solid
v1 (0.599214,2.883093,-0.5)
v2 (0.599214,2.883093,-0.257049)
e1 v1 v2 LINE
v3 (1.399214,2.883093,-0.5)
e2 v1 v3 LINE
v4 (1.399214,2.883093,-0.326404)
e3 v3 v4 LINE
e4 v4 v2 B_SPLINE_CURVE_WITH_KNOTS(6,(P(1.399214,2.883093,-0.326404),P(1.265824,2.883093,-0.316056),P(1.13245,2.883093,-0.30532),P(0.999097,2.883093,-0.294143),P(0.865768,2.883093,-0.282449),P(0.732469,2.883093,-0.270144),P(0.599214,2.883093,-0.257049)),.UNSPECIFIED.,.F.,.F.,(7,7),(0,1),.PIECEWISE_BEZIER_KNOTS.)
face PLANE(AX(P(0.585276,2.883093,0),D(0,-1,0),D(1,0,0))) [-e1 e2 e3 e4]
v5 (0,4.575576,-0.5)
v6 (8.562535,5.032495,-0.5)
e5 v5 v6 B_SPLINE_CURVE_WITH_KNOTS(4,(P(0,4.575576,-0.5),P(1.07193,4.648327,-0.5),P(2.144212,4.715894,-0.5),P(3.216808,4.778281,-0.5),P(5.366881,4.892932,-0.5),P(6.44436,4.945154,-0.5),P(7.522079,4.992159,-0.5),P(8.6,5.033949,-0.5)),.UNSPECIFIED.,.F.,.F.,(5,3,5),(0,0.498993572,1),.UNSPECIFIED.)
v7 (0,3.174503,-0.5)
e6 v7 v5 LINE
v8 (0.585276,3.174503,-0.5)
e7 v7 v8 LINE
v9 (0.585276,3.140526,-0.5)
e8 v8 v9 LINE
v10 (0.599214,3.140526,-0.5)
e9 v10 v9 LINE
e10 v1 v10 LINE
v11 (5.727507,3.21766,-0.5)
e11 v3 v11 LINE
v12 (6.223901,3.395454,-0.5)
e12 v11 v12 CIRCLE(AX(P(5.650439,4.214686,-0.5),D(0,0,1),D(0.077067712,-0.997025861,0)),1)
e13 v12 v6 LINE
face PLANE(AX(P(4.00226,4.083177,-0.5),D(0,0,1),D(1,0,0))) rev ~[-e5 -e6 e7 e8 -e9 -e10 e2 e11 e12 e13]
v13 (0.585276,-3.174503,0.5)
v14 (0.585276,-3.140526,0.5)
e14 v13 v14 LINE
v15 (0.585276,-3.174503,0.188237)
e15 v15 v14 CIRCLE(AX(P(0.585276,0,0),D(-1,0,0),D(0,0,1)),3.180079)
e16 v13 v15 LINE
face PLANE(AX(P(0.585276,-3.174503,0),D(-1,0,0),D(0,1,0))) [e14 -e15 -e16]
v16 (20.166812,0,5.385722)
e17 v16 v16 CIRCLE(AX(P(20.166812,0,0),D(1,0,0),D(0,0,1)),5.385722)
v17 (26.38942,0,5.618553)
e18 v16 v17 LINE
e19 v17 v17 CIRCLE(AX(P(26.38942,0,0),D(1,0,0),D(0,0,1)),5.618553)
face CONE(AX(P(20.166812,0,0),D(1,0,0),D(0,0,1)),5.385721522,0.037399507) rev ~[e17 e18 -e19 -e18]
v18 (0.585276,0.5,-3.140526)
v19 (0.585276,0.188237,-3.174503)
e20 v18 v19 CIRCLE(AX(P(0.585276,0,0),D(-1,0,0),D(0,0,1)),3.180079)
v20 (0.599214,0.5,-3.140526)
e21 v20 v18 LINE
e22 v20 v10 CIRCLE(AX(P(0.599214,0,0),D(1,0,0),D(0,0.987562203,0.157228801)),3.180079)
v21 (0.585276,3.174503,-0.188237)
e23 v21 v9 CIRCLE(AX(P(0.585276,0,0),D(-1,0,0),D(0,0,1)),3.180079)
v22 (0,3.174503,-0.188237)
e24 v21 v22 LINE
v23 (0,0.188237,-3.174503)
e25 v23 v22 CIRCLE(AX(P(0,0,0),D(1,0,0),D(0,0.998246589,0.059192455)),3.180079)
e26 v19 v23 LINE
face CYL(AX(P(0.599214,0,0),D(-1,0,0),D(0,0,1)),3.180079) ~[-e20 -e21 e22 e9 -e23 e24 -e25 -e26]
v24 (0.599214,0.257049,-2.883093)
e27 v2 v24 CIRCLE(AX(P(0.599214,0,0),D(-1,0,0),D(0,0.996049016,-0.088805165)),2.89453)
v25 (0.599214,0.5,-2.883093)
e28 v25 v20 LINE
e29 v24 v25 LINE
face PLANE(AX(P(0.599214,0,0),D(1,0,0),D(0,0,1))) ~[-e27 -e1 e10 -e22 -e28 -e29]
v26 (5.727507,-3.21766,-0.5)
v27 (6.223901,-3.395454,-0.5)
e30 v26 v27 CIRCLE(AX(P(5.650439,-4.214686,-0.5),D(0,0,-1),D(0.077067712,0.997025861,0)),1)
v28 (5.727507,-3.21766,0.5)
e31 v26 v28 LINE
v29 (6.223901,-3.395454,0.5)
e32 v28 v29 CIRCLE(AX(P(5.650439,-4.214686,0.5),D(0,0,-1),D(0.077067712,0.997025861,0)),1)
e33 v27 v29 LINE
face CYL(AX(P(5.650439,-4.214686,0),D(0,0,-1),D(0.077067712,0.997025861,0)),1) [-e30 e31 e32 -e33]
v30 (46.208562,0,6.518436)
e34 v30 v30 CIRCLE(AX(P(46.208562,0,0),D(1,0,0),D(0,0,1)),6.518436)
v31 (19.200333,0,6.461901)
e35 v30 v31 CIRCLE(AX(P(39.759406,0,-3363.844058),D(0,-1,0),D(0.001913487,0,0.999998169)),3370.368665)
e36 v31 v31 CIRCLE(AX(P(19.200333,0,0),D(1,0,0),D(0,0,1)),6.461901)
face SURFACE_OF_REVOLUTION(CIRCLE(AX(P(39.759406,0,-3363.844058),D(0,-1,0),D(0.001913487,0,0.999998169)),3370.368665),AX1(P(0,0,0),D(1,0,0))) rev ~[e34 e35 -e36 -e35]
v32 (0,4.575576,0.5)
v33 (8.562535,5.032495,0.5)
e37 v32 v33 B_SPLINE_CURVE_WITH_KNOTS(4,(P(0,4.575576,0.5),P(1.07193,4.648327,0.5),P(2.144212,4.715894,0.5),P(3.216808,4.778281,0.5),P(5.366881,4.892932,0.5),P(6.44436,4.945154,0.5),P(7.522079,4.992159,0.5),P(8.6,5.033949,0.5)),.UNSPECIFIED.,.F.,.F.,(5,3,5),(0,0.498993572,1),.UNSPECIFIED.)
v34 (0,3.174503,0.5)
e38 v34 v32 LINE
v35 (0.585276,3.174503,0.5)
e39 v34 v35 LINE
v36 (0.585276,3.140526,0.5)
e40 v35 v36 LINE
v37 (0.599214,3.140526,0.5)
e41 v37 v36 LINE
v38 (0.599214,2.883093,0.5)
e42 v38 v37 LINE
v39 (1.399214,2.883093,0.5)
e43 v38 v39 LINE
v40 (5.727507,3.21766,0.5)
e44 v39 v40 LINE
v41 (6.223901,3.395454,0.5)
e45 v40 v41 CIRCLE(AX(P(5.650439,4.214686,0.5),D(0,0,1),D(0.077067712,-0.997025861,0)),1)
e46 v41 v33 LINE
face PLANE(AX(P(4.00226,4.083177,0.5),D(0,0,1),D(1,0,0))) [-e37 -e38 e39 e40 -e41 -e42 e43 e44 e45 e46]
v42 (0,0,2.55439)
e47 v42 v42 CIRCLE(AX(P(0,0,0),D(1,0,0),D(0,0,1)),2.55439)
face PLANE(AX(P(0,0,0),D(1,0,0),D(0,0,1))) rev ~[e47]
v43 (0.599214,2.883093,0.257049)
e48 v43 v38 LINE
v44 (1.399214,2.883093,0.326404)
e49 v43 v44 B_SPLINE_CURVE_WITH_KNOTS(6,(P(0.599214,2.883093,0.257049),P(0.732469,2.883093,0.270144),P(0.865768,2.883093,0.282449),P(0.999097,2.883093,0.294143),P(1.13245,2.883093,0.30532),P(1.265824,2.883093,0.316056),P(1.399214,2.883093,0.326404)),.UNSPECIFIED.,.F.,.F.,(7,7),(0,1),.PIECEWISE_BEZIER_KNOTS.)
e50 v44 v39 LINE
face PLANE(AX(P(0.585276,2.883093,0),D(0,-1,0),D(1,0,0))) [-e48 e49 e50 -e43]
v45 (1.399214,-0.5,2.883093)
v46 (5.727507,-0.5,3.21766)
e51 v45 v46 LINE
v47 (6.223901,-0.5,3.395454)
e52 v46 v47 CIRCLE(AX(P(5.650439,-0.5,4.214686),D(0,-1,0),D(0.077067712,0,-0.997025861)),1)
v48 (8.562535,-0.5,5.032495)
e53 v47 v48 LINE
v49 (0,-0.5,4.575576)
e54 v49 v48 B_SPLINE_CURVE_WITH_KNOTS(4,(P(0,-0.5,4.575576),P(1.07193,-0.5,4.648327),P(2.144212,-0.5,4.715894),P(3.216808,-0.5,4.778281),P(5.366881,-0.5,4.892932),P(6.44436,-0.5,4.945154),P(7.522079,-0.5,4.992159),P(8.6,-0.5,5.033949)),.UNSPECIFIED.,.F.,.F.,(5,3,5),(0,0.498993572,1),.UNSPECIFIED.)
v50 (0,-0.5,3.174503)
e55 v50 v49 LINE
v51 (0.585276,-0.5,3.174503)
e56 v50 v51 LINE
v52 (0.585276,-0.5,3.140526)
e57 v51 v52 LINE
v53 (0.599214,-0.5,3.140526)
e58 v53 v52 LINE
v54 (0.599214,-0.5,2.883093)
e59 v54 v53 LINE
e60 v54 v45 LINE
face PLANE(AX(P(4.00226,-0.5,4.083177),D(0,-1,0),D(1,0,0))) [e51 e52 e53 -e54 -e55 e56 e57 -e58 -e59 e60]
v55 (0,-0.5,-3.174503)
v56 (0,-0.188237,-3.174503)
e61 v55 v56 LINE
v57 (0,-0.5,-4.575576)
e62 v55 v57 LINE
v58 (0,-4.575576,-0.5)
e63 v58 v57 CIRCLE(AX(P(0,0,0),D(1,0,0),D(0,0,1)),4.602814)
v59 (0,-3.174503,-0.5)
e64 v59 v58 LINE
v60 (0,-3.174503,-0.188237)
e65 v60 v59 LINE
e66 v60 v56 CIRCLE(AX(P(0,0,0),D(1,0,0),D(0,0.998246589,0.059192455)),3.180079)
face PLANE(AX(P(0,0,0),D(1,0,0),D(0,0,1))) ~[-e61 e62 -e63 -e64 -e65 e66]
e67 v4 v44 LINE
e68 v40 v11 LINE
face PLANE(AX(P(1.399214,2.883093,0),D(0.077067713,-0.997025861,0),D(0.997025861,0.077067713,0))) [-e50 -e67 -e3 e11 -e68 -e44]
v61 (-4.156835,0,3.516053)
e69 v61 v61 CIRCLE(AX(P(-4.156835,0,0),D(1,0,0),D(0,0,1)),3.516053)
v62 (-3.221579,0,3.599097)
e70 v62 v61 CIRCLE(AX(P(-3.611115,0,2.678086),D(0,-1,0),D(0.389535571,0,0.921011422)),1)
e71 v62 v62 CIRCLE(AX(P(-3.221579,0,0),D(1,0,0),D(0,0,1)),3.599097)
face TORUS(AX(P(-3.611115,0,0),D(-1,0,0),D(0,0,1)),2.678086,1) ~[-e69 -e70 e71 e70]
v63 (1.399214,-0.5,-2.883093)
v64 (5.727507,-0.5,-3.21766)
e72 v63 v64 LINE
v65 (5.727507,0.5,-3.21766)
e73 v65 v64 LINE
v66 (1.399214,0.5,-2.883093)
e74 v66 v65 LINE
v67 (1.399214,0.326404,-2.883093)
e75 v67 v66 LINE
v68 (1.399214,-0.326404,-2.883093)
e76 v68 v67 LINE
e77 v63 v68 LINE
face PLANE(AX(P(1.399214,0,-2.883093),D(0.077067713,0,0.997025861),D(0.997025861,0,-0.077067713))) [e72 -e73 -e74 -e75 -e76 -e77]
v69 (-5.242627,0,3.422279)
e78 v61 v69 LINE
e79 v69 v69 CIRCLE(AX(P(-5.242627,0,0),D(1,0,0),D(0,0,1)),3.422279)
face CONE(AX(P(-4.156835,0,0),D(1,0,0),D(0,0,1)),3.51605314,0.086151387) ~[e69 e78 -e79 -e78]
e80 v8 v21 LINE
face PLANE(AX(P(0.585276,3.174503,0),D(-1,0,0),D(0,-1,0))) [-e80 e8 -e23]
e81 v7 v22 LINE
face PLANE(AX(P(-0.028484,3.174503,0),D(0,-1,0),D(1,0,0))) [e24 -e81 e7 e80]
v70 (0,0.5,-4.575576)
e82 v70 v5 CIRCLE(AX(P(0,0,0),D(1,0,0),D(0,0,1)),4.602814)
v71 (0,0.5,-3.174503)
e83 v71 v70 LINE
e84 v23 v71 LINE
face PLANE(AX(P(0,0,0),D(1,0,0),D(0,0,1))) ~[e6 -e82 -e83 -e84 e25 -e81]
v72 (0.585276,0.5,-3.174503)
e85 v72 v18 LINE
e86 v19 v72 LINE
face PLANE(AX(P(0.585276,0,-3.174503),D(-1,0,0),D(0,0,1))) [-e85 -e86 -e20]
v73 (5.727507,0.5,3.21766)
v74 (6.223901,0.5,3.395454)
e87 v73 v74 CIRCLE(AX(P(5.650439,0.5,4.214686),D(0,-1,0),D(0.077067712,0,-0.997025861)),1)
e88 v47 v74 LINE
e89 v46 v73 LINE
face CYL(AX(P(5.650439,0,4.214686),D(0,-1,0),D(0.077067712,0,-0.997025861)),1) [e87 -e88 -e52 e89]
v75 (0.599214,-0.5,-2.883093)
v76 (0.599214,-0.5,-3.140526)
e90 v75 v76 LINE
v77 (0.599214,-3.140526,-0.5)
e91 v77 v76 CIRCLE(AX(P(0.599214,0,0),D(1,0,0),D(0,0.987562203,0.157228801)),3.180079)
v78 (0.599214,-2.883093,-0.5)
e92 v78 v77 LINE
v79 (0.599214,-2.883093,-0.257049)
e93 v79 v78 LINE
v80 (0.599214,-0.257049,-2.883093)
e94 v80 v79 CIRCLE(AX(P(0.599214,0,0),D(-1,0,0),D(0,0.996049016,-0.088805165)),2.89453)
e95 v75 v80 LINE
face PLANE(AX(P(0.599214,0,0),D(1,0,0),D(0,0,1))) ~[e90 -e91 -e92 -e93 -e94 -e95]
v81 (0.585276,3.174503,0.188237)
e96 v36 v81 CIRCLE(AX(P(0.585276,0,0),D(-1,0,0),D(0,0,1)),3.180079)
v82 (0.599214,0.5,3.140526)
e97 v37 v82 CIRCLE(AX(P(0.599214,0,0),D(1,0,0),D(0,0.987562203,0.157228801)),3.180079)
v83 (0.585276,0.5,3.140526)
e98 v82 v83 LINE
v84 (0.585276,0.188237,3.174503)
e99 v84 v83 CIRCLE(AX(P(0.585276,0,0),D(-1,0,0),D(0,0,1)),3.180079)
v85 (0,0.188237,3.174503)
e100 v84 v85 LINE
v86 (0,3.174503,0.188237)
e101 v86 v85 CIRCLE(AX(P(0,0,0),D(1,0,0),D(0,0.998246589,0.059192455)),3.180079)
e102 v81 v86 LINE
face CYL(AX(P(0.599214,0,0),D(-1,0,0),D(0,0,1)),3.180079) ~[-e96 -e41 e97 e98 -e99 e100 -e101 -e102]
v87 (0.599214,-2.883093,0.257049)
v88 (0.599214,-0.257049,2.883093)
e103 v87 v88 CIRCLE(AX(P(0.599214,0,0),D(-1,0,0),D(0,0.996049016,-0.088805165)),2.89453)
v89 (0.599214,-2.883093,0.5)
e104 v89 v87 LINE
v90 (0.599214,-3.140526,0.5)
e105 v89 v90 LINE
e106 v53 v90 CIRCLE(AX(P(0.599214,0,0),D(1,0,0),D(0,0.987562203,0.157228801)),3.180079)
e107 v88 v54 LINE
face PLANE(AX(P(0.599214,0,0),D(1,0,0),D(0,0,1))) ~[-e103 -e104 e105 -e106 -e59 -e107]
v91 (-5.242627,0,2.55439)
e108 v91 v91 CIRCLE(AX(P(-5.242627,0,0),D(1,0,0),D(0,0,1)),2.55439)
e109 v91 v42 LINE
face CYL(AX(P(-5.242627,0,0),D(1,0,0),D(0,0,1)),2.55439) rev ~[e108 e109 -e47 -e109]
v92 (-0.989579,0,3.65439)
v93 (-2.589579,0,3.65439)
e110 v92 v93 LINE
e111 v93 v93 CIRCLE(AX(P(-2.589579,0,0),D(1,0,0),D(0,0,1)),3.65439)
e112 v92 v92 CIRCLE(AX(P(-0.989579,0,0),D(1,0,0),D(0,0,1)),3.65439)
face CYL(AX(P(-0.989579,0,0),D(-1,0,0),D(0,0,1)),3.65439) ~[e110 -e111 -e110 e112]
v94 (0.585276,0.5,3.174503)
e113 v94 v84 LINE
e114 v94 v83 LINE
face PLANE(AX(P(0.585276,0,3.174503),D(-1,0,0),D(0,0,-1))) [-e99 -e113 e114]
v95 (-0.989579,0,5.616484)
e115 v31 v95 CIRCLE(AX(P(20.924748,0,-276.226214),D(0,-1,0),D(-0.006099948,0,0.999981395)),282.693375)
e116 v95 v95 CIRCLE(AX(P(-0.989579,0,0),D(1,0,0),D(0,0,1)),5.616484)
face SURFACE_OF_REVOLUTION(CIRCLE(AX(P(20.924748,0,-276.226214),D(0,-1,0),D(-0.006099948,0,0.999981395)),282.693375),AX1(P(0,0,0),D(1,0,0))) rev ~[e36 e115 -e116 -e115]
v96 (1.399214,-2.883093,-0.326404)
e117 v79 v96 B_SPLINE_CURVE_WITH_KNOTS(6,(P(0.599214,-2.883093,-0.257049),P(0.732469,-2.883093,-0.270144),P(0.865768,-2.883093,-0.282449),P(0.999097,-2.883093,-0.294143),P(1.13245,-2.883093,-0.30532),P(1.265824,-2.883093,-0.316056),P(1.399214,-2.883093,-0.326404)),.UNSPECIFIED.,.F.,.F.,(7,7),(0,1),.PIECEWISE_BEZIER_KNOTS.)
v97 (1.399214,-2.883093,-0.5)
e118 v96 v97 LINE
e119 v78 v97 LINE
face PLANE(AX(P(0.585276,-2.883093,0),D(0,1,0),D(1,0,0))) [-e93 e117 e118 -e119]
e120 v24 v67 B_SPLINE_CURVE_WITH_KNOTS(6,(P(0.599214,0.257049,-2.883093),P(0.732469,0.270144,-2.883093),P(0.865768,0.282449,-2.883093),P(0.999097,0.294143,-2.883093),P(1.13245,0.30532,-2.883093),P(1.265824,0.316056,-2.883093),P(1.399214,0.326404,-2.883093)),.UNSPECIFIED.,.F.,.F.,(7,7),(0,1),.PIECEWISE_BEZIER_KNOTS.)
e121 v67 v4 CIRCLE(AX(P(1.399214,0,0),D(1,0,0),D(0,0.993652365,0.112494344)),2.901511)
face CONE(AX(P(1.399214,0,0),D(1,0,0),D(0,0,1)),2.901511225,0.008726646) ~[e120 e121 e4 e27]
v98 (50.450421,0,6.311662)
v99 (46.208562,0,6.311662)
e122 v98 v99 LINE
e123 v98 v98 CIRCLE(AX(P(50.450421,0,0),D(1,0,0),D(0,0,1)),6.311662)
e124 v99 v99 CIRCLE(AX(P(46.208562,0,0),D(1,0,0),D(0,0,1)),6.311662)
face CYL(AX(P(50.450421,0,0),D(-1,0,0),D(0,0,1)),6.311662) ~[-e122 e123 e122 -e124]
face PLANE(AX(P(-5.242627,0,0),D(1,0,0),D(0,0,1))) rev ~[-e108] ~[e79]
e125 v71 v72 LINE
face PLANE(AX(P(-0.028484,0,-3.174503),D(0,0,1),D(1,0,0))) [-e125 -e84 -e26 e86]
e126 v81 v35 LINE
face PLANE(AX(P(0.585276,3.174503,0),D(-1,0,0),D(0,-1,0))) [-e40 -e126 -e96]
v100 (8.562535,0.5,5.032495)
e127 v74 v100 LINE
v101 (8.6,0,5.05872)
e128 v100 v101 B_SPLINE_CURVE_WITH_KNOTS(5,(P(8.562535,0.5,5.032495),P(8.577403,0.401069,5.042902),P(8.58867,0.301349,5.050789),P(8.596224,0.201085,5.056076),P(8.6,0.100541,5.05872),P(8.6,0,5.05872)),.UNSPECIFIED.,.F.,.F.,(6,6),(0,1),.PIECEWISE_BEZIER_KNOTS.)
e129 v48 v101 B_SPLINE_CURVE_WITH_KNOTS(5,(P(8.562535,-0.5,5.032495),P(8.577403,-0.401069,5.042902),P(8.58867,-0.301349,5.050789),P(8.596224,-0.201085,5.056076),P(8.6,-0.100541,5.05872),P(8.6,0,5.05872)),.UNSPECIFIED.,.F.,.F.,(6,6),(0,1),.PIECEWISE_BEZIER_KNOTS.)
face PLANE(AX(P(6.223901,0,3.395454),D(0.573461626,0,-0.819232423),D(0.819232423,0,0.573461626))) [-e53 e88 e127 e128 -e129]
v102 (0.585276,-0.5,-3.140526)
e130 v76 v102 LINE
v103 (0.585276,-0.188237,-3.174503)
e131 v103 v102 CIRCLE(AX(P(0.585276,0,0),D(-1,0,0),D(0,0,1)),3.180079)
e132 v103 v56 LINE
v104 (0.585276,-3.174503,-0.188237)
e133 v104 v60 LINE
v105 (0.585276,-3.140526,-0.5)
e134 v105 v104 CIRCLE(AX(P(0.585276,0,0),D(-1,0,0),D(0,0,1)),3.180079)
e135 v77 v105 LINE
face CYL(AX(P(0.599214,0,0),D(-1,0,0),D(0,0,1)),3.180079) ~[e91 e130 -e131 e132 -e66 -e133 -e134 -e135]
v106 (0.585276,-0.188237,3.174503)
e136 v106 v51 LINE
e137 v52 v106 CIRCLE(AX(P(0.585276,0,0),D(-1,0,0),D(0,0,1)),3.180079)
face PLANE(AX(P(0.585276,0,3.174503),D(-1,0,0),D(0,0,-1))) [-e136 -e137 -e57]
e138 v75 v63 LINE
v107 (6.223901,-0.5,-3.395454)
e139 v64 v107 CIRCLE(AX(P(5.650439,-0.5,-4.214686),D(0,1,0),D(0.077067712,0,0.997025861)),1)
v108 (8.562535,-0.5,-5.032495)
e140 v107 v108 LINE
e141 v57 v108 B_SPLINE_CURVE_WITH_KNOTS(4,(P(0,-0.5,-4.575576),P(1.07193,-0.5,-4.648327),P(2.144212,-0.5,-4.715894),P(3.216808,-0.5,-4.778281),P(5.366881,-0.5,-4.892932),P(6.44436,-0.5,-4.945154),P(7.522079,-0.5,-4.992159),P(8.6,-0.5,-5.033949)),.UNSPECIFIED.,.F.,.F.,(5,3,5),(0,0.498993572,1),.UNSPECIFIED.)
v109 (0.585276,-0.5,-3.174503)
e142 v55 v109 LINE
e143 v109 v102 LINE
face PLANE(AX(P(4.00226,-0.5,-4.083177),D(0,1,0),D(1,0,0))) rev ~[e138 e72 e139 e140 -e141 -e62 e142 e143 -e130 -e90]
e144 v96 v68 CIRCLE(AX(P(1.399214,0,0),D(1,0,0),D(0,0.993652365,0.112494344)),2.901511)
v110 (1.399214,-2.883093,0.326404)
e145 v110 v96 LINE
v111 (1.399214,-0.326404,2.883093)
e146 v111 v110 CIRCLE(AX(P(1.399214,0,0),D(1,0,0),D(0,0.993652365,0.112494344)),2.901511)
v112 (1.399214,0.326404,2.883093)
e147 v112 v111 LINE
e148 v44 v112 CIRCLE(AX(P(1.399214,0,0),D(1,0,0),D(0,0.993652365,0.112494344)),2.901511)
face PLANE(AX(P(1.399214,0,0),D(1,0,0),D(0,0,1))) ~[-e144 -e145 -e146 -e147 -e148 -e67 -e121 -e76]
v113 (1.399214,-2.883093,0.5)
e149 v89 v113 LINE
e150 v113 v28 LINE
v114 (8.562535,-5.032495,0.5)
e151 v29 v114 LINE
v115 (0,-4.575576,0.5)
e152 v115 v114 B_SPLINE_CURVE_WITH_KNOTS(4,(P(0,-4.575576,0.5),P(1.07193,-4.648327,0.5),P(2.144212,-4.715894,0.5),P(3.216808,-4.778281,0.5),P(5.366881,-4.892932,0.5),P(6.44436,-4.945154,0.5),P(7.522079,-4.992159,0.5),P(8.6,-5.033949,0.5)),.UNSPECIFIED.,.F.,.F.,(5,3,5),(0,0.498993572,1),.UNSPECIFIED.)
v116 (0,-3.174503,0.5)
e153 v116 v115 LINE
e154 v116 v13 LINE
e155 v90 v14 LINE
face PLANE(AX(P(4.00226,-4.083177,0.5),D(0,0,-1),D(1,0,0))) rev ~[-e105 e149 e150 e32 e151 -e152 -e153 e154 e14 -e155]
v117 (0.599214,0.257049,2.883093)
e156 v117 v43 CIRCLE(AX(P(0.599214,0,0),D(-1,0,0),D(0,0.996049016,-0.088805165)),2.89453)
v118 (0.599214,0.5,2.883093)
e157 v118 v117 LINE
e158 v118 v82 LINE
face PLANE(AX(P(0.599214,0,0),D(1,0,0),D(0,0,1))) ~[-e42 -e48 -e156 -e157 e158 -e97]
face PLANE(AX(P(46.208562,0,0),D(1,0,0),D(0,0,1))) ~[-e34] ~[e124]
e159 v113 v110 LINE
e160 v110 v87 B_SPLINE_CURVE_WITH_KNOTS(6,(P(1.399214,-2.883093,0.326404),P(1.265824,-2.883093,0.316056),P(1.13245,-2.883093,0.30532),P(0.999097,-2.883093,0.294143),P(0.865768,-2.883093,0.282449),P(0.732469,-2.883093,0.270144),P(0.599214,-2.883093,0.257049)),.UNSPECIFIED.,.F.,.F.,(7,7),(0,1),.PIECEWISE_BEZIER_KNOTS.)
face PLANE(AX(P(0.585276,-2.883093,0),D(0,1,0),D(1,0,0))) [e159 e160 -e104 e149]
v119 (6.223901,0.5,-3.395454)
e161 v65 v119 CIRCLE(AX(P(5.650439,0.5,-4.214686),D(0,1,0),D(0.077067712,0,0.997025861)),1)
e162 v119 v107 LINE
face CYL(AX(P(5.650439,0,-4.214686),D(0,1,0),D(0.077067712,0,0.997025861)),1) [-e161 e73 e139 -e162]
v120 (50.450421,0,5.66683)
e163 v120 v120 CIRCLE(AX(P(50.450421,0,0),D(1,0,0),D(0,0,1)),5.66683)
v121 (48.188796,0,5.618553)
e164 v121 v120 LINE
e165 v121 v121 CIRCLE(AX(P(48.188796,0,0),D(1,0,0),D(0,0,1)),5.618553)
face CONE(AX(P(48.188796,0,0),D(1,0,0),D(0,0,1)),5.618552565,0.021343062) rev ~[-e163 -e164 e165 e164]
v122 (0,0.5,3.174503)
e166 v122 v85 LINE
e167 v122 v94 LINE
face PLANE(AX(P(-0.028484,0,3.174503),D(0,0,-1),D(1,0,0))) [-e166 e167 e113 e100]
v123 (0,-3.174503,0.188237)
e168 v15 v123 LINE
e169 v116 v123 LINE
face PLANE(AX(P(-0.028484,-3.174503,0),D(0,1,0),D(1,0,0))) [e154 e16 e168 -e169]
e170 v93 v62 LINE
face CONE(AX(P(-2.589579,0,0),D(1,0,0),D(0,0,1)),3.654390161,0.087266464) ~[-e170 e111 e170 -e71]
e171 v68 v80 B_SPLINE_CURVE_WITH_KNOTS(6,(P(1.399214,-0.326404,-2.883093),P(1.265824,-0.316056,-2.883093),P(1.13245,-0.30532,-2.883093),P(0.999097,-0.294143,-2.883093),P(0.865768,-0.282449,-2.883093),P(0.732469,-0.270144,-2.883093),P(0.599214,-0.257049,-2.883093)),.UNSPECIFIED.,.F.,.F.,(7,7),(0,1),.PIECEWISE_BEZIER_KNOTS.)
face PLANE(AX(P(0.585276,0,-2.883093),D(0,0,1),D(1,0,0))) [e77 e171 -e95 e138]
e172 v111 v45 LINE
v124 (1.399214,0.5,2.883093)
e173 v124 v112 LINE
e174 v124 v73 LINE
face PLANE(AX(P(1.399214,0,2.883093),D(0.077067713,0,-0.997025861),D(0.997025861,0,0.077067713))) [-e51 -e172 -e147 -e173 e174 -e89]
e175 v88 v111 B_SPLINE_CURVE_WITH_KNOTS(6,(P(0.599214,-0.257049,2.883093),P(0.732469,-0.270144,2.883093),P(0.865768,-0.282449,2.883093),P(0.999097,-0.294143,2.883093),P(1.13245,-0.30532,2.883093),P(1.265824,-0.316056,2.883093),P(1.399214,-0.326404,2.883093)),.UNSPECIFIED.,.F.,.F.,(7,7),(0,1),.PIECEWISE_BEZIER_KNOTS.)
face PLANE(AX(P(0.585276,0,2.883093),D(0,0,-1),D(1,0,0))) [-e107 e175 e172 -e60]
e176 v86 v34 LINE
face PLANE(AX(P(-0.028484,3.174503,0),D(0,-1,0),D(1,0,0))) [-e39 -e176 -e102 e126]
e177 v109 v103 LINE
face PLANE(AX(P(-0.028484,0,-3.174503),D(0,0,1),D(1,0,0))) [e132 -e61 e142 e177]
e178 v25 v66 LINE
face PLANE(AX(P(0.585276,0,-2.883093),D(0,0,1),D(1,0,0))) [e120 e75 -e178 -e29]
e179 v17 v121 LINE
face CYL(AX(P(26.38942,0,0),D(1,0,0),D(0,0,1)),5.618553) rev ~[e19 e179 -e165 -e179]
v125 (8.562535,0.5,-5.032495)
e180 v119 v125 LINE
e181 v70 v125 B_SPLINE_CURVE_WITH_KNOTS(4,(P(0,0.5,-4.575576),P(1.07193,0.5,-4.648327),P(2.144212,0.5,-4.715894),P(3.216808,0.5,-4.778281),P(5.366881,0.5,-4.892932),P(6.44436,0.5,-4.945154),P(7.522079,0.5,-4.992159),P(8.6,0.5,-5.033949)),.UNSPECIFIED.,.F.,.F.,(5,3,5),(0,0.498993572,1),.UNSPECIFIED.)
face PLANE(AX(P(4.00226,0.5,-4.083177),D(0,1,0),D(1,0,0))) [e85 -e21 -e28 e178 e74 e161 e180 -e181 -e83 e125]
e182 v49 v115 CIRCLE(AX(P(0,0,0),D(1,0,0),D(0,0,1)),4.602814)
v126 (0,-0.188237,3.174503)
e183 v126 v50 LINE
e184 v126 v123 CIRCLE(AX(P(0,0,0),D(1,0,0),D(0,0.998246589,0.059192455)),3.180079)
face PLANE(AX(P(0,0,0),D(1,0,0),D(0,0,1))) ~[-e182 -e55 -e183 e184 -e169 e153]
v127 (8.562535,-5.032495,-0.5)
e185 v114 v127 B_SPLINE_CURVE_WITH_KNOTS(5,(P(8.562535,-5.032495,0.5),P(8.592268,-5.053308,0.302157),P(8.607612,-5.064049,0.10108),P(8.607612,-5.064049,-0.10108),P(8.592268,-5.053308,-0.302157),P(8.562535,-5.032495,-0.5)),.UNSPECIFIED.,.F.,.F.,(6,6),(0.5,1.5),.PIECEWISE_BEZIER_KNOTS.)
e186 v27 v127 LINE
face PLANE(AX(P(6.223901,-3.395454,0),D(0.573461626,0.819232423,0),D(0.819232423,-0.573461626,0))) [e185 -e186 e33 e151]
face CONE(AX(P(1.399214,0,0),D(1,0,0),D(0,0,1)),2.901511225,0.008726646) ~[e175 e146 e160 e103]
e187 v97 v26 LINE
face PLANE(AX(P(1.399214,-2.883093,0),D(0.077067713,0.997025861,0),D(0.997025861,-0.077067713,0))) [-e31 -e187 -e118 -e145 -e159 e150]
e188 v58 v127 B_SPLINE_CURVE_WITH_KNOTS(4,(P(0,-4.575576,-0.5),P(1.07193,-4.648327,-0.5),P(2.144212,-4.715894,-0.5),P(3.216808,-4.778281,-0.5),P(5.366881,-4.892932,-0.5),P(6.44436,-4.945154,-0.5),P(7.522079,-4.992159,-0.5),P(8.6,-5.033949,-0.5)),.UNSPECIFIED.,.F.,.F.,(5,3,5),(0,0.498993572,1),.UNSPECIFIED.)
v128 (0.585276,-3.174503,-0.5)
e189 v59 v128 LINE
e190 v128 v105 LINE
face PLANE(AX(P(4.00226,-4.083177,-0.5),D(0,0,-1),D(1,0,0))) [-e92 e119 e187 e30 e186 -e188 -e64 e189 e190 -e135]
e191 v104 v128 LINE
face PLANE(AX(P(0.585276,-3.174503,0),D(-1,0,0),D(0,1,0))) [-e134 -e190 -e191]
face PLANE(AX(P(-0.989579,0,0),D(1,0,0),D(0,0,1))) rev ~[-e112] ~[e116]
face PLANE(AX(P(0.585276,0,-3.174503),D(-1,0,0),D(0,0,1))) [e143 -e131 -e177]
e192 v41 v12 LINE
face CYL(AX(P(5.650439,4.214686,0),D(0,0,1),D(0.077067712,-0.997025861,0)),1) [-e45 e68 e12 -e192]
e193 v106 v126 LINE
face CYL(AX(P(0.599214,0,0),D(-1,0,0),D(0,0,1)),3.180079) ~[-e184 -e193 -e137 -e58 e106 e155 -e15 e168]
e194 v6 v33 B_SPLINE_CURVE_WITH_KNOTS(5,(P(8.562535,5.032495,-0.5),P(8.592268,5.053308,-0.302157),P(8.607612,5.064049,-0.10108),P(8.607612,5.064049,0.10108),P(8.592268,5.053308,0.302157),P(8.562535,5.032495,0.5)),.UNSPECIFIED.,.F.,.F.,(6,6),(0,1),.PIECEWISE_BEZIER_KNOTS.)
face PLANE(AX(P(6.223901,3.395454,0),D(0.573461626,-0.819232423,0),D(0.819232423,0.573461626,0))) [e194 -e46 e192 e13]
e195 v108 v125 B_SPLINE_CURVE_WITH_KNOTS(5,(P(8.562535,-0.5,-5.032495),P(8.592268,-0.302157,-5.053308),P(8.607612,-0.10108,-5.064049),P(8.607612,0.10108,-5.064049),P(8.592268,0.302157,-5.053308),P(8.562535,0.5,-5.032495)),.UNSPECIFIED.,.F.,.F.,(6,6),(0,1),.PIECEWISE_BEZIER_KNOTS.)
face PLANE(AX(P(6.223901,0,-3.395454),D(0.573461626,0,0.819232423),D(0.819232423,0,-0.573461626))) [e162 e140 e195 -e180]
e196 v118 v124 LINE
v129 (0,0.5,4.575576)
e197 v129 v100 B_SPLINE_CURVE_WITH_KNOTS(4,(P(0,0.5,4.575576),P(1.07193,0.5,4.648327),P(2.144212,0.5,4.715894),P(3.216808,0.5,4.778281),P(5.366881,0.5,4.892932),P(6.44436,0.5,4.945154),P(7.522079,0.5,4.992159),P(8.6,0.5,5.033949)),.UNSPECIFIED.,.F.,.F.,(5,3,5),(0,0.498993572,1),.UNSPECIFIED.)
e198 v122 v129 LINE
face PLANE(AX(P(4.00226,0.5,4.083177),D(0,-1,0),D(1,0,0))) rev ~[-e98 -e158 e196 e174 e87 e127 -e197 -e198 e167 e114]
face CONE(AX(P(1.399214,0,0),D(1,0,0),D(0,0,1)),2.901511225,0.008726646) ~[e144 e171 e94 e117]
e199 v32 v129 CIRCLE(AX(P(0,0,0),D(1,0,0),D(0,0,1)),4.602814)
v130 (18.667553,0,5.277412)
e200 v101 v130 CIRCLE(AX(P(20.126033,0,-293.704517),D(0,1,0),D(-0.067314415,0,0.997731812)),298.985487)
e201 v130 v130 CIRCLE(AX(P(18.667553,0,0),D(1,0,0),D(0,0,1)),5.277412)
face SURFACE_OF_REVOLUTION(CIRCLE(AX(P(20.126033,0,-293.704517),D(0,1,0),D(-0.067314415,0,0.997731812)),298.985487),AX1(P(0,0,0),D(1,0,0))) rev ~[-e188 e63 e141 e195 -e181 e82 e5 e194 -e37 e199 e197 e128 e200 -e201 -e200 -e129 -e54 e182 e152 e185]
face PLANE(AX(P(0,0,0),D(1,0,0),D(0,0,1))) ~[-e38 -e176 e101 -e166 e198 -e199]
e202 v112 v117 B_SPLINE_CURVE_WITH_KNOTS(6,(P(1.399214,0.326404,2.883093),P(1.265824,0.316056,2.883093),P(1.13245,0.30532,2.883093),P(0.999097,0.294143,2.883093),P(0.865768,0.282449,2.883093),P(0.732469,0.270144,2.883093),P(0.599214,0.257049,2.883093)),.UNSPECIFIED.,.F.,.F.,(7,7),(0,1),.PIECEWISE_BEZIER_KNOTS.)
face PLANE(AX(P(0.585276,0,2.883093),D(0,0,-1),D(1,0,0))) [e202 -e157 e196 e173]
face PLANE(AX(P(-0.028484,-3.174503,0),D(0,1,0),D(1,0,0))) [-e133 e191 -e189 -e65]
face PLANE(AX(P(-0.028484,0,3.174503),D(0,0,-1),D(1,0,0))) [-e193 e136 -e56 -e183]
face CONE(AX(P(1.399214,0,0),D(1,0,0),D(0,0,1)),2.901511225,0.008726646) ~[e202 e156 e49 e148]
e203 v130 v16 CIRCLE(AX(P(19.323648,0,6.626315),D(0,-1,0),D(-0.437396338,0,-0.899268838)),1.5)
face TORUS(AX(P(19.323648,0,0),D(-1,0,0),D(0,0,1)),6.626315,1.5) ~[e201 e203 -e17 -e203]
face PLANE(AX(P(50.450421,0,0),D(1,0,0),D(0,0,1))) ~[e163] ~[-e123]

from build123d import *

# Parameters (mm, degrees)
RESSALTO_EXTRUS_O2_DEPTH = 0.5
PADR_OCIRCULAR2_COUNT    = 4


with BuildPart() as part:
    # Esboço2 → Revolução1 (revolve)
    with BuildSketch(Plane.XY, mode=Mode.PRIVATE) as revolu_o1_sk:
        with BuildLine():
            Line((1.399214201, 0), (1.399214201, 2.304315345))
            Line((1.399214201, 2.304315345), (1.399214201, 2.901511225))
            Line((1.399214201, 2.901511225), (0.599214201, 2.894529731))
            Line((0.599214201, 2.894529731), (0.599214201, 3.180078941))
            Line((0.599214201, 3.180078941), (0, 3.180078941))
            Line((0, 3.180078941), (0, 4.602814306))
            ThreePointArc((0, 4.602814306), (9.328506863, 5.085935569), (18.667553023, 5.277412145))
            ThreePointArc((18.667553023, 5.277412145), (19.431728753, 5.13021432), (20.166812297, 5.385721522))
            Line((20.166812297, 5.385721522), (26.389420386, 5.618552565))
            Line((26.389420386, 5.618552565), (48.188796476, 5.618552565))
            Line((48.188796476, 5.618552565), (50.450420766, 5.666829883))
            Line((50.450420766, 5.666829883), (50.450420766, 6.311661884))
            Line((50.450420766, 6.311661884), (46.208561923, 6.311661884))
            Line((46.208561923, 6.311661884), (46.208561923, 6.51843609))
            ThreePointArc((46.208561923, 6.51843609), (32.704390812, 6.517222328), (19.20033296, 6.461901061))
            ThreePointArc((19.20033296, 6.461901061), (9.097820391, 6.21965301), (-0.989579234, 5.616483747))
            Line((-0.989579234, 5.616483747), (-0.989579234, 3.654390161))
            Line((-0.989579234, 3.654390161), (-2.589579234, 3.654390161))
            Line((-2.589579234, 3.654390161), (-3.22157908, 3.599097338))
            ThreePointArc((-3.22157908, 3.599097338), (-3.699559677, 3.674166976), (-4.156835213, 3.51605314))
            Line((-4.156835213, 3.51605314), (-5.24262657, 3.422278594))
            Line((-5.24262657, 3.422278594), (-5.24262657, 2.554390153))
            Line((-5.24262657, 2.554390153), (0, 2.554390153))
            Line((0, 2.554390153), (0, 0))
            Line((0, 0), (1.399214201, 0))
        make_face()
    revolve(revolu_o1_sk.sketch.rotate(Axis((0, 0, 0), (1, 0, 0)), 90), axis=Axis((0, 0, 0), (1, 0, 0)))

    # Esboço4 → Ressalto-extrusão2 (add, symmetric)
    with BuildSketch(Plane.XY):
        with BuildLine():
            ThreePointArc((8.6, 5.058719828), (4.284103859, 4.860977318), (-0.028484319, 4.600891176))
            Line((-0.028484319, 4.600891176), (-0.028484319, 3.174502957))
            Line((-0.028484319, 3.174502957), (0.585276056, 3.174502957))
            Line((0.585276056, 3.174502957), (0.585276056, 2.883093491))
            Line((0.585276056, 2.883093491), (1.399214201, 2.883093491))
            Line((1.399214201, 2.883093491), (5.727507055, 3.217660171))
            ThreePointArc((5.727507055, 3.217660171), (5.987633251, 3.273250815), (6.223900968, 3.395453609))
            Line((6.223900968, 3.395453609), (8.6, 5.058719828))
        make_face()
    ressalto_extrus_o2 = extrude(amount=RESSALTO_EXTRUS_O2_DEPTH, both=True)

    # PadrãoCircular2: Ressalto-extrusão2 ×4 about axis
    padr_ocircular2_axis = Axis((0, 0, 0), (1, 0, 0))
    for i in range(1, PADR_OCIRCULAR2_COUNT):
        add(ressalto_extrus_o2.rotate(padr_ocircular2_axis, i * 360 / PADR_OCIRCULAR2_COUNT))


solid = part.part
